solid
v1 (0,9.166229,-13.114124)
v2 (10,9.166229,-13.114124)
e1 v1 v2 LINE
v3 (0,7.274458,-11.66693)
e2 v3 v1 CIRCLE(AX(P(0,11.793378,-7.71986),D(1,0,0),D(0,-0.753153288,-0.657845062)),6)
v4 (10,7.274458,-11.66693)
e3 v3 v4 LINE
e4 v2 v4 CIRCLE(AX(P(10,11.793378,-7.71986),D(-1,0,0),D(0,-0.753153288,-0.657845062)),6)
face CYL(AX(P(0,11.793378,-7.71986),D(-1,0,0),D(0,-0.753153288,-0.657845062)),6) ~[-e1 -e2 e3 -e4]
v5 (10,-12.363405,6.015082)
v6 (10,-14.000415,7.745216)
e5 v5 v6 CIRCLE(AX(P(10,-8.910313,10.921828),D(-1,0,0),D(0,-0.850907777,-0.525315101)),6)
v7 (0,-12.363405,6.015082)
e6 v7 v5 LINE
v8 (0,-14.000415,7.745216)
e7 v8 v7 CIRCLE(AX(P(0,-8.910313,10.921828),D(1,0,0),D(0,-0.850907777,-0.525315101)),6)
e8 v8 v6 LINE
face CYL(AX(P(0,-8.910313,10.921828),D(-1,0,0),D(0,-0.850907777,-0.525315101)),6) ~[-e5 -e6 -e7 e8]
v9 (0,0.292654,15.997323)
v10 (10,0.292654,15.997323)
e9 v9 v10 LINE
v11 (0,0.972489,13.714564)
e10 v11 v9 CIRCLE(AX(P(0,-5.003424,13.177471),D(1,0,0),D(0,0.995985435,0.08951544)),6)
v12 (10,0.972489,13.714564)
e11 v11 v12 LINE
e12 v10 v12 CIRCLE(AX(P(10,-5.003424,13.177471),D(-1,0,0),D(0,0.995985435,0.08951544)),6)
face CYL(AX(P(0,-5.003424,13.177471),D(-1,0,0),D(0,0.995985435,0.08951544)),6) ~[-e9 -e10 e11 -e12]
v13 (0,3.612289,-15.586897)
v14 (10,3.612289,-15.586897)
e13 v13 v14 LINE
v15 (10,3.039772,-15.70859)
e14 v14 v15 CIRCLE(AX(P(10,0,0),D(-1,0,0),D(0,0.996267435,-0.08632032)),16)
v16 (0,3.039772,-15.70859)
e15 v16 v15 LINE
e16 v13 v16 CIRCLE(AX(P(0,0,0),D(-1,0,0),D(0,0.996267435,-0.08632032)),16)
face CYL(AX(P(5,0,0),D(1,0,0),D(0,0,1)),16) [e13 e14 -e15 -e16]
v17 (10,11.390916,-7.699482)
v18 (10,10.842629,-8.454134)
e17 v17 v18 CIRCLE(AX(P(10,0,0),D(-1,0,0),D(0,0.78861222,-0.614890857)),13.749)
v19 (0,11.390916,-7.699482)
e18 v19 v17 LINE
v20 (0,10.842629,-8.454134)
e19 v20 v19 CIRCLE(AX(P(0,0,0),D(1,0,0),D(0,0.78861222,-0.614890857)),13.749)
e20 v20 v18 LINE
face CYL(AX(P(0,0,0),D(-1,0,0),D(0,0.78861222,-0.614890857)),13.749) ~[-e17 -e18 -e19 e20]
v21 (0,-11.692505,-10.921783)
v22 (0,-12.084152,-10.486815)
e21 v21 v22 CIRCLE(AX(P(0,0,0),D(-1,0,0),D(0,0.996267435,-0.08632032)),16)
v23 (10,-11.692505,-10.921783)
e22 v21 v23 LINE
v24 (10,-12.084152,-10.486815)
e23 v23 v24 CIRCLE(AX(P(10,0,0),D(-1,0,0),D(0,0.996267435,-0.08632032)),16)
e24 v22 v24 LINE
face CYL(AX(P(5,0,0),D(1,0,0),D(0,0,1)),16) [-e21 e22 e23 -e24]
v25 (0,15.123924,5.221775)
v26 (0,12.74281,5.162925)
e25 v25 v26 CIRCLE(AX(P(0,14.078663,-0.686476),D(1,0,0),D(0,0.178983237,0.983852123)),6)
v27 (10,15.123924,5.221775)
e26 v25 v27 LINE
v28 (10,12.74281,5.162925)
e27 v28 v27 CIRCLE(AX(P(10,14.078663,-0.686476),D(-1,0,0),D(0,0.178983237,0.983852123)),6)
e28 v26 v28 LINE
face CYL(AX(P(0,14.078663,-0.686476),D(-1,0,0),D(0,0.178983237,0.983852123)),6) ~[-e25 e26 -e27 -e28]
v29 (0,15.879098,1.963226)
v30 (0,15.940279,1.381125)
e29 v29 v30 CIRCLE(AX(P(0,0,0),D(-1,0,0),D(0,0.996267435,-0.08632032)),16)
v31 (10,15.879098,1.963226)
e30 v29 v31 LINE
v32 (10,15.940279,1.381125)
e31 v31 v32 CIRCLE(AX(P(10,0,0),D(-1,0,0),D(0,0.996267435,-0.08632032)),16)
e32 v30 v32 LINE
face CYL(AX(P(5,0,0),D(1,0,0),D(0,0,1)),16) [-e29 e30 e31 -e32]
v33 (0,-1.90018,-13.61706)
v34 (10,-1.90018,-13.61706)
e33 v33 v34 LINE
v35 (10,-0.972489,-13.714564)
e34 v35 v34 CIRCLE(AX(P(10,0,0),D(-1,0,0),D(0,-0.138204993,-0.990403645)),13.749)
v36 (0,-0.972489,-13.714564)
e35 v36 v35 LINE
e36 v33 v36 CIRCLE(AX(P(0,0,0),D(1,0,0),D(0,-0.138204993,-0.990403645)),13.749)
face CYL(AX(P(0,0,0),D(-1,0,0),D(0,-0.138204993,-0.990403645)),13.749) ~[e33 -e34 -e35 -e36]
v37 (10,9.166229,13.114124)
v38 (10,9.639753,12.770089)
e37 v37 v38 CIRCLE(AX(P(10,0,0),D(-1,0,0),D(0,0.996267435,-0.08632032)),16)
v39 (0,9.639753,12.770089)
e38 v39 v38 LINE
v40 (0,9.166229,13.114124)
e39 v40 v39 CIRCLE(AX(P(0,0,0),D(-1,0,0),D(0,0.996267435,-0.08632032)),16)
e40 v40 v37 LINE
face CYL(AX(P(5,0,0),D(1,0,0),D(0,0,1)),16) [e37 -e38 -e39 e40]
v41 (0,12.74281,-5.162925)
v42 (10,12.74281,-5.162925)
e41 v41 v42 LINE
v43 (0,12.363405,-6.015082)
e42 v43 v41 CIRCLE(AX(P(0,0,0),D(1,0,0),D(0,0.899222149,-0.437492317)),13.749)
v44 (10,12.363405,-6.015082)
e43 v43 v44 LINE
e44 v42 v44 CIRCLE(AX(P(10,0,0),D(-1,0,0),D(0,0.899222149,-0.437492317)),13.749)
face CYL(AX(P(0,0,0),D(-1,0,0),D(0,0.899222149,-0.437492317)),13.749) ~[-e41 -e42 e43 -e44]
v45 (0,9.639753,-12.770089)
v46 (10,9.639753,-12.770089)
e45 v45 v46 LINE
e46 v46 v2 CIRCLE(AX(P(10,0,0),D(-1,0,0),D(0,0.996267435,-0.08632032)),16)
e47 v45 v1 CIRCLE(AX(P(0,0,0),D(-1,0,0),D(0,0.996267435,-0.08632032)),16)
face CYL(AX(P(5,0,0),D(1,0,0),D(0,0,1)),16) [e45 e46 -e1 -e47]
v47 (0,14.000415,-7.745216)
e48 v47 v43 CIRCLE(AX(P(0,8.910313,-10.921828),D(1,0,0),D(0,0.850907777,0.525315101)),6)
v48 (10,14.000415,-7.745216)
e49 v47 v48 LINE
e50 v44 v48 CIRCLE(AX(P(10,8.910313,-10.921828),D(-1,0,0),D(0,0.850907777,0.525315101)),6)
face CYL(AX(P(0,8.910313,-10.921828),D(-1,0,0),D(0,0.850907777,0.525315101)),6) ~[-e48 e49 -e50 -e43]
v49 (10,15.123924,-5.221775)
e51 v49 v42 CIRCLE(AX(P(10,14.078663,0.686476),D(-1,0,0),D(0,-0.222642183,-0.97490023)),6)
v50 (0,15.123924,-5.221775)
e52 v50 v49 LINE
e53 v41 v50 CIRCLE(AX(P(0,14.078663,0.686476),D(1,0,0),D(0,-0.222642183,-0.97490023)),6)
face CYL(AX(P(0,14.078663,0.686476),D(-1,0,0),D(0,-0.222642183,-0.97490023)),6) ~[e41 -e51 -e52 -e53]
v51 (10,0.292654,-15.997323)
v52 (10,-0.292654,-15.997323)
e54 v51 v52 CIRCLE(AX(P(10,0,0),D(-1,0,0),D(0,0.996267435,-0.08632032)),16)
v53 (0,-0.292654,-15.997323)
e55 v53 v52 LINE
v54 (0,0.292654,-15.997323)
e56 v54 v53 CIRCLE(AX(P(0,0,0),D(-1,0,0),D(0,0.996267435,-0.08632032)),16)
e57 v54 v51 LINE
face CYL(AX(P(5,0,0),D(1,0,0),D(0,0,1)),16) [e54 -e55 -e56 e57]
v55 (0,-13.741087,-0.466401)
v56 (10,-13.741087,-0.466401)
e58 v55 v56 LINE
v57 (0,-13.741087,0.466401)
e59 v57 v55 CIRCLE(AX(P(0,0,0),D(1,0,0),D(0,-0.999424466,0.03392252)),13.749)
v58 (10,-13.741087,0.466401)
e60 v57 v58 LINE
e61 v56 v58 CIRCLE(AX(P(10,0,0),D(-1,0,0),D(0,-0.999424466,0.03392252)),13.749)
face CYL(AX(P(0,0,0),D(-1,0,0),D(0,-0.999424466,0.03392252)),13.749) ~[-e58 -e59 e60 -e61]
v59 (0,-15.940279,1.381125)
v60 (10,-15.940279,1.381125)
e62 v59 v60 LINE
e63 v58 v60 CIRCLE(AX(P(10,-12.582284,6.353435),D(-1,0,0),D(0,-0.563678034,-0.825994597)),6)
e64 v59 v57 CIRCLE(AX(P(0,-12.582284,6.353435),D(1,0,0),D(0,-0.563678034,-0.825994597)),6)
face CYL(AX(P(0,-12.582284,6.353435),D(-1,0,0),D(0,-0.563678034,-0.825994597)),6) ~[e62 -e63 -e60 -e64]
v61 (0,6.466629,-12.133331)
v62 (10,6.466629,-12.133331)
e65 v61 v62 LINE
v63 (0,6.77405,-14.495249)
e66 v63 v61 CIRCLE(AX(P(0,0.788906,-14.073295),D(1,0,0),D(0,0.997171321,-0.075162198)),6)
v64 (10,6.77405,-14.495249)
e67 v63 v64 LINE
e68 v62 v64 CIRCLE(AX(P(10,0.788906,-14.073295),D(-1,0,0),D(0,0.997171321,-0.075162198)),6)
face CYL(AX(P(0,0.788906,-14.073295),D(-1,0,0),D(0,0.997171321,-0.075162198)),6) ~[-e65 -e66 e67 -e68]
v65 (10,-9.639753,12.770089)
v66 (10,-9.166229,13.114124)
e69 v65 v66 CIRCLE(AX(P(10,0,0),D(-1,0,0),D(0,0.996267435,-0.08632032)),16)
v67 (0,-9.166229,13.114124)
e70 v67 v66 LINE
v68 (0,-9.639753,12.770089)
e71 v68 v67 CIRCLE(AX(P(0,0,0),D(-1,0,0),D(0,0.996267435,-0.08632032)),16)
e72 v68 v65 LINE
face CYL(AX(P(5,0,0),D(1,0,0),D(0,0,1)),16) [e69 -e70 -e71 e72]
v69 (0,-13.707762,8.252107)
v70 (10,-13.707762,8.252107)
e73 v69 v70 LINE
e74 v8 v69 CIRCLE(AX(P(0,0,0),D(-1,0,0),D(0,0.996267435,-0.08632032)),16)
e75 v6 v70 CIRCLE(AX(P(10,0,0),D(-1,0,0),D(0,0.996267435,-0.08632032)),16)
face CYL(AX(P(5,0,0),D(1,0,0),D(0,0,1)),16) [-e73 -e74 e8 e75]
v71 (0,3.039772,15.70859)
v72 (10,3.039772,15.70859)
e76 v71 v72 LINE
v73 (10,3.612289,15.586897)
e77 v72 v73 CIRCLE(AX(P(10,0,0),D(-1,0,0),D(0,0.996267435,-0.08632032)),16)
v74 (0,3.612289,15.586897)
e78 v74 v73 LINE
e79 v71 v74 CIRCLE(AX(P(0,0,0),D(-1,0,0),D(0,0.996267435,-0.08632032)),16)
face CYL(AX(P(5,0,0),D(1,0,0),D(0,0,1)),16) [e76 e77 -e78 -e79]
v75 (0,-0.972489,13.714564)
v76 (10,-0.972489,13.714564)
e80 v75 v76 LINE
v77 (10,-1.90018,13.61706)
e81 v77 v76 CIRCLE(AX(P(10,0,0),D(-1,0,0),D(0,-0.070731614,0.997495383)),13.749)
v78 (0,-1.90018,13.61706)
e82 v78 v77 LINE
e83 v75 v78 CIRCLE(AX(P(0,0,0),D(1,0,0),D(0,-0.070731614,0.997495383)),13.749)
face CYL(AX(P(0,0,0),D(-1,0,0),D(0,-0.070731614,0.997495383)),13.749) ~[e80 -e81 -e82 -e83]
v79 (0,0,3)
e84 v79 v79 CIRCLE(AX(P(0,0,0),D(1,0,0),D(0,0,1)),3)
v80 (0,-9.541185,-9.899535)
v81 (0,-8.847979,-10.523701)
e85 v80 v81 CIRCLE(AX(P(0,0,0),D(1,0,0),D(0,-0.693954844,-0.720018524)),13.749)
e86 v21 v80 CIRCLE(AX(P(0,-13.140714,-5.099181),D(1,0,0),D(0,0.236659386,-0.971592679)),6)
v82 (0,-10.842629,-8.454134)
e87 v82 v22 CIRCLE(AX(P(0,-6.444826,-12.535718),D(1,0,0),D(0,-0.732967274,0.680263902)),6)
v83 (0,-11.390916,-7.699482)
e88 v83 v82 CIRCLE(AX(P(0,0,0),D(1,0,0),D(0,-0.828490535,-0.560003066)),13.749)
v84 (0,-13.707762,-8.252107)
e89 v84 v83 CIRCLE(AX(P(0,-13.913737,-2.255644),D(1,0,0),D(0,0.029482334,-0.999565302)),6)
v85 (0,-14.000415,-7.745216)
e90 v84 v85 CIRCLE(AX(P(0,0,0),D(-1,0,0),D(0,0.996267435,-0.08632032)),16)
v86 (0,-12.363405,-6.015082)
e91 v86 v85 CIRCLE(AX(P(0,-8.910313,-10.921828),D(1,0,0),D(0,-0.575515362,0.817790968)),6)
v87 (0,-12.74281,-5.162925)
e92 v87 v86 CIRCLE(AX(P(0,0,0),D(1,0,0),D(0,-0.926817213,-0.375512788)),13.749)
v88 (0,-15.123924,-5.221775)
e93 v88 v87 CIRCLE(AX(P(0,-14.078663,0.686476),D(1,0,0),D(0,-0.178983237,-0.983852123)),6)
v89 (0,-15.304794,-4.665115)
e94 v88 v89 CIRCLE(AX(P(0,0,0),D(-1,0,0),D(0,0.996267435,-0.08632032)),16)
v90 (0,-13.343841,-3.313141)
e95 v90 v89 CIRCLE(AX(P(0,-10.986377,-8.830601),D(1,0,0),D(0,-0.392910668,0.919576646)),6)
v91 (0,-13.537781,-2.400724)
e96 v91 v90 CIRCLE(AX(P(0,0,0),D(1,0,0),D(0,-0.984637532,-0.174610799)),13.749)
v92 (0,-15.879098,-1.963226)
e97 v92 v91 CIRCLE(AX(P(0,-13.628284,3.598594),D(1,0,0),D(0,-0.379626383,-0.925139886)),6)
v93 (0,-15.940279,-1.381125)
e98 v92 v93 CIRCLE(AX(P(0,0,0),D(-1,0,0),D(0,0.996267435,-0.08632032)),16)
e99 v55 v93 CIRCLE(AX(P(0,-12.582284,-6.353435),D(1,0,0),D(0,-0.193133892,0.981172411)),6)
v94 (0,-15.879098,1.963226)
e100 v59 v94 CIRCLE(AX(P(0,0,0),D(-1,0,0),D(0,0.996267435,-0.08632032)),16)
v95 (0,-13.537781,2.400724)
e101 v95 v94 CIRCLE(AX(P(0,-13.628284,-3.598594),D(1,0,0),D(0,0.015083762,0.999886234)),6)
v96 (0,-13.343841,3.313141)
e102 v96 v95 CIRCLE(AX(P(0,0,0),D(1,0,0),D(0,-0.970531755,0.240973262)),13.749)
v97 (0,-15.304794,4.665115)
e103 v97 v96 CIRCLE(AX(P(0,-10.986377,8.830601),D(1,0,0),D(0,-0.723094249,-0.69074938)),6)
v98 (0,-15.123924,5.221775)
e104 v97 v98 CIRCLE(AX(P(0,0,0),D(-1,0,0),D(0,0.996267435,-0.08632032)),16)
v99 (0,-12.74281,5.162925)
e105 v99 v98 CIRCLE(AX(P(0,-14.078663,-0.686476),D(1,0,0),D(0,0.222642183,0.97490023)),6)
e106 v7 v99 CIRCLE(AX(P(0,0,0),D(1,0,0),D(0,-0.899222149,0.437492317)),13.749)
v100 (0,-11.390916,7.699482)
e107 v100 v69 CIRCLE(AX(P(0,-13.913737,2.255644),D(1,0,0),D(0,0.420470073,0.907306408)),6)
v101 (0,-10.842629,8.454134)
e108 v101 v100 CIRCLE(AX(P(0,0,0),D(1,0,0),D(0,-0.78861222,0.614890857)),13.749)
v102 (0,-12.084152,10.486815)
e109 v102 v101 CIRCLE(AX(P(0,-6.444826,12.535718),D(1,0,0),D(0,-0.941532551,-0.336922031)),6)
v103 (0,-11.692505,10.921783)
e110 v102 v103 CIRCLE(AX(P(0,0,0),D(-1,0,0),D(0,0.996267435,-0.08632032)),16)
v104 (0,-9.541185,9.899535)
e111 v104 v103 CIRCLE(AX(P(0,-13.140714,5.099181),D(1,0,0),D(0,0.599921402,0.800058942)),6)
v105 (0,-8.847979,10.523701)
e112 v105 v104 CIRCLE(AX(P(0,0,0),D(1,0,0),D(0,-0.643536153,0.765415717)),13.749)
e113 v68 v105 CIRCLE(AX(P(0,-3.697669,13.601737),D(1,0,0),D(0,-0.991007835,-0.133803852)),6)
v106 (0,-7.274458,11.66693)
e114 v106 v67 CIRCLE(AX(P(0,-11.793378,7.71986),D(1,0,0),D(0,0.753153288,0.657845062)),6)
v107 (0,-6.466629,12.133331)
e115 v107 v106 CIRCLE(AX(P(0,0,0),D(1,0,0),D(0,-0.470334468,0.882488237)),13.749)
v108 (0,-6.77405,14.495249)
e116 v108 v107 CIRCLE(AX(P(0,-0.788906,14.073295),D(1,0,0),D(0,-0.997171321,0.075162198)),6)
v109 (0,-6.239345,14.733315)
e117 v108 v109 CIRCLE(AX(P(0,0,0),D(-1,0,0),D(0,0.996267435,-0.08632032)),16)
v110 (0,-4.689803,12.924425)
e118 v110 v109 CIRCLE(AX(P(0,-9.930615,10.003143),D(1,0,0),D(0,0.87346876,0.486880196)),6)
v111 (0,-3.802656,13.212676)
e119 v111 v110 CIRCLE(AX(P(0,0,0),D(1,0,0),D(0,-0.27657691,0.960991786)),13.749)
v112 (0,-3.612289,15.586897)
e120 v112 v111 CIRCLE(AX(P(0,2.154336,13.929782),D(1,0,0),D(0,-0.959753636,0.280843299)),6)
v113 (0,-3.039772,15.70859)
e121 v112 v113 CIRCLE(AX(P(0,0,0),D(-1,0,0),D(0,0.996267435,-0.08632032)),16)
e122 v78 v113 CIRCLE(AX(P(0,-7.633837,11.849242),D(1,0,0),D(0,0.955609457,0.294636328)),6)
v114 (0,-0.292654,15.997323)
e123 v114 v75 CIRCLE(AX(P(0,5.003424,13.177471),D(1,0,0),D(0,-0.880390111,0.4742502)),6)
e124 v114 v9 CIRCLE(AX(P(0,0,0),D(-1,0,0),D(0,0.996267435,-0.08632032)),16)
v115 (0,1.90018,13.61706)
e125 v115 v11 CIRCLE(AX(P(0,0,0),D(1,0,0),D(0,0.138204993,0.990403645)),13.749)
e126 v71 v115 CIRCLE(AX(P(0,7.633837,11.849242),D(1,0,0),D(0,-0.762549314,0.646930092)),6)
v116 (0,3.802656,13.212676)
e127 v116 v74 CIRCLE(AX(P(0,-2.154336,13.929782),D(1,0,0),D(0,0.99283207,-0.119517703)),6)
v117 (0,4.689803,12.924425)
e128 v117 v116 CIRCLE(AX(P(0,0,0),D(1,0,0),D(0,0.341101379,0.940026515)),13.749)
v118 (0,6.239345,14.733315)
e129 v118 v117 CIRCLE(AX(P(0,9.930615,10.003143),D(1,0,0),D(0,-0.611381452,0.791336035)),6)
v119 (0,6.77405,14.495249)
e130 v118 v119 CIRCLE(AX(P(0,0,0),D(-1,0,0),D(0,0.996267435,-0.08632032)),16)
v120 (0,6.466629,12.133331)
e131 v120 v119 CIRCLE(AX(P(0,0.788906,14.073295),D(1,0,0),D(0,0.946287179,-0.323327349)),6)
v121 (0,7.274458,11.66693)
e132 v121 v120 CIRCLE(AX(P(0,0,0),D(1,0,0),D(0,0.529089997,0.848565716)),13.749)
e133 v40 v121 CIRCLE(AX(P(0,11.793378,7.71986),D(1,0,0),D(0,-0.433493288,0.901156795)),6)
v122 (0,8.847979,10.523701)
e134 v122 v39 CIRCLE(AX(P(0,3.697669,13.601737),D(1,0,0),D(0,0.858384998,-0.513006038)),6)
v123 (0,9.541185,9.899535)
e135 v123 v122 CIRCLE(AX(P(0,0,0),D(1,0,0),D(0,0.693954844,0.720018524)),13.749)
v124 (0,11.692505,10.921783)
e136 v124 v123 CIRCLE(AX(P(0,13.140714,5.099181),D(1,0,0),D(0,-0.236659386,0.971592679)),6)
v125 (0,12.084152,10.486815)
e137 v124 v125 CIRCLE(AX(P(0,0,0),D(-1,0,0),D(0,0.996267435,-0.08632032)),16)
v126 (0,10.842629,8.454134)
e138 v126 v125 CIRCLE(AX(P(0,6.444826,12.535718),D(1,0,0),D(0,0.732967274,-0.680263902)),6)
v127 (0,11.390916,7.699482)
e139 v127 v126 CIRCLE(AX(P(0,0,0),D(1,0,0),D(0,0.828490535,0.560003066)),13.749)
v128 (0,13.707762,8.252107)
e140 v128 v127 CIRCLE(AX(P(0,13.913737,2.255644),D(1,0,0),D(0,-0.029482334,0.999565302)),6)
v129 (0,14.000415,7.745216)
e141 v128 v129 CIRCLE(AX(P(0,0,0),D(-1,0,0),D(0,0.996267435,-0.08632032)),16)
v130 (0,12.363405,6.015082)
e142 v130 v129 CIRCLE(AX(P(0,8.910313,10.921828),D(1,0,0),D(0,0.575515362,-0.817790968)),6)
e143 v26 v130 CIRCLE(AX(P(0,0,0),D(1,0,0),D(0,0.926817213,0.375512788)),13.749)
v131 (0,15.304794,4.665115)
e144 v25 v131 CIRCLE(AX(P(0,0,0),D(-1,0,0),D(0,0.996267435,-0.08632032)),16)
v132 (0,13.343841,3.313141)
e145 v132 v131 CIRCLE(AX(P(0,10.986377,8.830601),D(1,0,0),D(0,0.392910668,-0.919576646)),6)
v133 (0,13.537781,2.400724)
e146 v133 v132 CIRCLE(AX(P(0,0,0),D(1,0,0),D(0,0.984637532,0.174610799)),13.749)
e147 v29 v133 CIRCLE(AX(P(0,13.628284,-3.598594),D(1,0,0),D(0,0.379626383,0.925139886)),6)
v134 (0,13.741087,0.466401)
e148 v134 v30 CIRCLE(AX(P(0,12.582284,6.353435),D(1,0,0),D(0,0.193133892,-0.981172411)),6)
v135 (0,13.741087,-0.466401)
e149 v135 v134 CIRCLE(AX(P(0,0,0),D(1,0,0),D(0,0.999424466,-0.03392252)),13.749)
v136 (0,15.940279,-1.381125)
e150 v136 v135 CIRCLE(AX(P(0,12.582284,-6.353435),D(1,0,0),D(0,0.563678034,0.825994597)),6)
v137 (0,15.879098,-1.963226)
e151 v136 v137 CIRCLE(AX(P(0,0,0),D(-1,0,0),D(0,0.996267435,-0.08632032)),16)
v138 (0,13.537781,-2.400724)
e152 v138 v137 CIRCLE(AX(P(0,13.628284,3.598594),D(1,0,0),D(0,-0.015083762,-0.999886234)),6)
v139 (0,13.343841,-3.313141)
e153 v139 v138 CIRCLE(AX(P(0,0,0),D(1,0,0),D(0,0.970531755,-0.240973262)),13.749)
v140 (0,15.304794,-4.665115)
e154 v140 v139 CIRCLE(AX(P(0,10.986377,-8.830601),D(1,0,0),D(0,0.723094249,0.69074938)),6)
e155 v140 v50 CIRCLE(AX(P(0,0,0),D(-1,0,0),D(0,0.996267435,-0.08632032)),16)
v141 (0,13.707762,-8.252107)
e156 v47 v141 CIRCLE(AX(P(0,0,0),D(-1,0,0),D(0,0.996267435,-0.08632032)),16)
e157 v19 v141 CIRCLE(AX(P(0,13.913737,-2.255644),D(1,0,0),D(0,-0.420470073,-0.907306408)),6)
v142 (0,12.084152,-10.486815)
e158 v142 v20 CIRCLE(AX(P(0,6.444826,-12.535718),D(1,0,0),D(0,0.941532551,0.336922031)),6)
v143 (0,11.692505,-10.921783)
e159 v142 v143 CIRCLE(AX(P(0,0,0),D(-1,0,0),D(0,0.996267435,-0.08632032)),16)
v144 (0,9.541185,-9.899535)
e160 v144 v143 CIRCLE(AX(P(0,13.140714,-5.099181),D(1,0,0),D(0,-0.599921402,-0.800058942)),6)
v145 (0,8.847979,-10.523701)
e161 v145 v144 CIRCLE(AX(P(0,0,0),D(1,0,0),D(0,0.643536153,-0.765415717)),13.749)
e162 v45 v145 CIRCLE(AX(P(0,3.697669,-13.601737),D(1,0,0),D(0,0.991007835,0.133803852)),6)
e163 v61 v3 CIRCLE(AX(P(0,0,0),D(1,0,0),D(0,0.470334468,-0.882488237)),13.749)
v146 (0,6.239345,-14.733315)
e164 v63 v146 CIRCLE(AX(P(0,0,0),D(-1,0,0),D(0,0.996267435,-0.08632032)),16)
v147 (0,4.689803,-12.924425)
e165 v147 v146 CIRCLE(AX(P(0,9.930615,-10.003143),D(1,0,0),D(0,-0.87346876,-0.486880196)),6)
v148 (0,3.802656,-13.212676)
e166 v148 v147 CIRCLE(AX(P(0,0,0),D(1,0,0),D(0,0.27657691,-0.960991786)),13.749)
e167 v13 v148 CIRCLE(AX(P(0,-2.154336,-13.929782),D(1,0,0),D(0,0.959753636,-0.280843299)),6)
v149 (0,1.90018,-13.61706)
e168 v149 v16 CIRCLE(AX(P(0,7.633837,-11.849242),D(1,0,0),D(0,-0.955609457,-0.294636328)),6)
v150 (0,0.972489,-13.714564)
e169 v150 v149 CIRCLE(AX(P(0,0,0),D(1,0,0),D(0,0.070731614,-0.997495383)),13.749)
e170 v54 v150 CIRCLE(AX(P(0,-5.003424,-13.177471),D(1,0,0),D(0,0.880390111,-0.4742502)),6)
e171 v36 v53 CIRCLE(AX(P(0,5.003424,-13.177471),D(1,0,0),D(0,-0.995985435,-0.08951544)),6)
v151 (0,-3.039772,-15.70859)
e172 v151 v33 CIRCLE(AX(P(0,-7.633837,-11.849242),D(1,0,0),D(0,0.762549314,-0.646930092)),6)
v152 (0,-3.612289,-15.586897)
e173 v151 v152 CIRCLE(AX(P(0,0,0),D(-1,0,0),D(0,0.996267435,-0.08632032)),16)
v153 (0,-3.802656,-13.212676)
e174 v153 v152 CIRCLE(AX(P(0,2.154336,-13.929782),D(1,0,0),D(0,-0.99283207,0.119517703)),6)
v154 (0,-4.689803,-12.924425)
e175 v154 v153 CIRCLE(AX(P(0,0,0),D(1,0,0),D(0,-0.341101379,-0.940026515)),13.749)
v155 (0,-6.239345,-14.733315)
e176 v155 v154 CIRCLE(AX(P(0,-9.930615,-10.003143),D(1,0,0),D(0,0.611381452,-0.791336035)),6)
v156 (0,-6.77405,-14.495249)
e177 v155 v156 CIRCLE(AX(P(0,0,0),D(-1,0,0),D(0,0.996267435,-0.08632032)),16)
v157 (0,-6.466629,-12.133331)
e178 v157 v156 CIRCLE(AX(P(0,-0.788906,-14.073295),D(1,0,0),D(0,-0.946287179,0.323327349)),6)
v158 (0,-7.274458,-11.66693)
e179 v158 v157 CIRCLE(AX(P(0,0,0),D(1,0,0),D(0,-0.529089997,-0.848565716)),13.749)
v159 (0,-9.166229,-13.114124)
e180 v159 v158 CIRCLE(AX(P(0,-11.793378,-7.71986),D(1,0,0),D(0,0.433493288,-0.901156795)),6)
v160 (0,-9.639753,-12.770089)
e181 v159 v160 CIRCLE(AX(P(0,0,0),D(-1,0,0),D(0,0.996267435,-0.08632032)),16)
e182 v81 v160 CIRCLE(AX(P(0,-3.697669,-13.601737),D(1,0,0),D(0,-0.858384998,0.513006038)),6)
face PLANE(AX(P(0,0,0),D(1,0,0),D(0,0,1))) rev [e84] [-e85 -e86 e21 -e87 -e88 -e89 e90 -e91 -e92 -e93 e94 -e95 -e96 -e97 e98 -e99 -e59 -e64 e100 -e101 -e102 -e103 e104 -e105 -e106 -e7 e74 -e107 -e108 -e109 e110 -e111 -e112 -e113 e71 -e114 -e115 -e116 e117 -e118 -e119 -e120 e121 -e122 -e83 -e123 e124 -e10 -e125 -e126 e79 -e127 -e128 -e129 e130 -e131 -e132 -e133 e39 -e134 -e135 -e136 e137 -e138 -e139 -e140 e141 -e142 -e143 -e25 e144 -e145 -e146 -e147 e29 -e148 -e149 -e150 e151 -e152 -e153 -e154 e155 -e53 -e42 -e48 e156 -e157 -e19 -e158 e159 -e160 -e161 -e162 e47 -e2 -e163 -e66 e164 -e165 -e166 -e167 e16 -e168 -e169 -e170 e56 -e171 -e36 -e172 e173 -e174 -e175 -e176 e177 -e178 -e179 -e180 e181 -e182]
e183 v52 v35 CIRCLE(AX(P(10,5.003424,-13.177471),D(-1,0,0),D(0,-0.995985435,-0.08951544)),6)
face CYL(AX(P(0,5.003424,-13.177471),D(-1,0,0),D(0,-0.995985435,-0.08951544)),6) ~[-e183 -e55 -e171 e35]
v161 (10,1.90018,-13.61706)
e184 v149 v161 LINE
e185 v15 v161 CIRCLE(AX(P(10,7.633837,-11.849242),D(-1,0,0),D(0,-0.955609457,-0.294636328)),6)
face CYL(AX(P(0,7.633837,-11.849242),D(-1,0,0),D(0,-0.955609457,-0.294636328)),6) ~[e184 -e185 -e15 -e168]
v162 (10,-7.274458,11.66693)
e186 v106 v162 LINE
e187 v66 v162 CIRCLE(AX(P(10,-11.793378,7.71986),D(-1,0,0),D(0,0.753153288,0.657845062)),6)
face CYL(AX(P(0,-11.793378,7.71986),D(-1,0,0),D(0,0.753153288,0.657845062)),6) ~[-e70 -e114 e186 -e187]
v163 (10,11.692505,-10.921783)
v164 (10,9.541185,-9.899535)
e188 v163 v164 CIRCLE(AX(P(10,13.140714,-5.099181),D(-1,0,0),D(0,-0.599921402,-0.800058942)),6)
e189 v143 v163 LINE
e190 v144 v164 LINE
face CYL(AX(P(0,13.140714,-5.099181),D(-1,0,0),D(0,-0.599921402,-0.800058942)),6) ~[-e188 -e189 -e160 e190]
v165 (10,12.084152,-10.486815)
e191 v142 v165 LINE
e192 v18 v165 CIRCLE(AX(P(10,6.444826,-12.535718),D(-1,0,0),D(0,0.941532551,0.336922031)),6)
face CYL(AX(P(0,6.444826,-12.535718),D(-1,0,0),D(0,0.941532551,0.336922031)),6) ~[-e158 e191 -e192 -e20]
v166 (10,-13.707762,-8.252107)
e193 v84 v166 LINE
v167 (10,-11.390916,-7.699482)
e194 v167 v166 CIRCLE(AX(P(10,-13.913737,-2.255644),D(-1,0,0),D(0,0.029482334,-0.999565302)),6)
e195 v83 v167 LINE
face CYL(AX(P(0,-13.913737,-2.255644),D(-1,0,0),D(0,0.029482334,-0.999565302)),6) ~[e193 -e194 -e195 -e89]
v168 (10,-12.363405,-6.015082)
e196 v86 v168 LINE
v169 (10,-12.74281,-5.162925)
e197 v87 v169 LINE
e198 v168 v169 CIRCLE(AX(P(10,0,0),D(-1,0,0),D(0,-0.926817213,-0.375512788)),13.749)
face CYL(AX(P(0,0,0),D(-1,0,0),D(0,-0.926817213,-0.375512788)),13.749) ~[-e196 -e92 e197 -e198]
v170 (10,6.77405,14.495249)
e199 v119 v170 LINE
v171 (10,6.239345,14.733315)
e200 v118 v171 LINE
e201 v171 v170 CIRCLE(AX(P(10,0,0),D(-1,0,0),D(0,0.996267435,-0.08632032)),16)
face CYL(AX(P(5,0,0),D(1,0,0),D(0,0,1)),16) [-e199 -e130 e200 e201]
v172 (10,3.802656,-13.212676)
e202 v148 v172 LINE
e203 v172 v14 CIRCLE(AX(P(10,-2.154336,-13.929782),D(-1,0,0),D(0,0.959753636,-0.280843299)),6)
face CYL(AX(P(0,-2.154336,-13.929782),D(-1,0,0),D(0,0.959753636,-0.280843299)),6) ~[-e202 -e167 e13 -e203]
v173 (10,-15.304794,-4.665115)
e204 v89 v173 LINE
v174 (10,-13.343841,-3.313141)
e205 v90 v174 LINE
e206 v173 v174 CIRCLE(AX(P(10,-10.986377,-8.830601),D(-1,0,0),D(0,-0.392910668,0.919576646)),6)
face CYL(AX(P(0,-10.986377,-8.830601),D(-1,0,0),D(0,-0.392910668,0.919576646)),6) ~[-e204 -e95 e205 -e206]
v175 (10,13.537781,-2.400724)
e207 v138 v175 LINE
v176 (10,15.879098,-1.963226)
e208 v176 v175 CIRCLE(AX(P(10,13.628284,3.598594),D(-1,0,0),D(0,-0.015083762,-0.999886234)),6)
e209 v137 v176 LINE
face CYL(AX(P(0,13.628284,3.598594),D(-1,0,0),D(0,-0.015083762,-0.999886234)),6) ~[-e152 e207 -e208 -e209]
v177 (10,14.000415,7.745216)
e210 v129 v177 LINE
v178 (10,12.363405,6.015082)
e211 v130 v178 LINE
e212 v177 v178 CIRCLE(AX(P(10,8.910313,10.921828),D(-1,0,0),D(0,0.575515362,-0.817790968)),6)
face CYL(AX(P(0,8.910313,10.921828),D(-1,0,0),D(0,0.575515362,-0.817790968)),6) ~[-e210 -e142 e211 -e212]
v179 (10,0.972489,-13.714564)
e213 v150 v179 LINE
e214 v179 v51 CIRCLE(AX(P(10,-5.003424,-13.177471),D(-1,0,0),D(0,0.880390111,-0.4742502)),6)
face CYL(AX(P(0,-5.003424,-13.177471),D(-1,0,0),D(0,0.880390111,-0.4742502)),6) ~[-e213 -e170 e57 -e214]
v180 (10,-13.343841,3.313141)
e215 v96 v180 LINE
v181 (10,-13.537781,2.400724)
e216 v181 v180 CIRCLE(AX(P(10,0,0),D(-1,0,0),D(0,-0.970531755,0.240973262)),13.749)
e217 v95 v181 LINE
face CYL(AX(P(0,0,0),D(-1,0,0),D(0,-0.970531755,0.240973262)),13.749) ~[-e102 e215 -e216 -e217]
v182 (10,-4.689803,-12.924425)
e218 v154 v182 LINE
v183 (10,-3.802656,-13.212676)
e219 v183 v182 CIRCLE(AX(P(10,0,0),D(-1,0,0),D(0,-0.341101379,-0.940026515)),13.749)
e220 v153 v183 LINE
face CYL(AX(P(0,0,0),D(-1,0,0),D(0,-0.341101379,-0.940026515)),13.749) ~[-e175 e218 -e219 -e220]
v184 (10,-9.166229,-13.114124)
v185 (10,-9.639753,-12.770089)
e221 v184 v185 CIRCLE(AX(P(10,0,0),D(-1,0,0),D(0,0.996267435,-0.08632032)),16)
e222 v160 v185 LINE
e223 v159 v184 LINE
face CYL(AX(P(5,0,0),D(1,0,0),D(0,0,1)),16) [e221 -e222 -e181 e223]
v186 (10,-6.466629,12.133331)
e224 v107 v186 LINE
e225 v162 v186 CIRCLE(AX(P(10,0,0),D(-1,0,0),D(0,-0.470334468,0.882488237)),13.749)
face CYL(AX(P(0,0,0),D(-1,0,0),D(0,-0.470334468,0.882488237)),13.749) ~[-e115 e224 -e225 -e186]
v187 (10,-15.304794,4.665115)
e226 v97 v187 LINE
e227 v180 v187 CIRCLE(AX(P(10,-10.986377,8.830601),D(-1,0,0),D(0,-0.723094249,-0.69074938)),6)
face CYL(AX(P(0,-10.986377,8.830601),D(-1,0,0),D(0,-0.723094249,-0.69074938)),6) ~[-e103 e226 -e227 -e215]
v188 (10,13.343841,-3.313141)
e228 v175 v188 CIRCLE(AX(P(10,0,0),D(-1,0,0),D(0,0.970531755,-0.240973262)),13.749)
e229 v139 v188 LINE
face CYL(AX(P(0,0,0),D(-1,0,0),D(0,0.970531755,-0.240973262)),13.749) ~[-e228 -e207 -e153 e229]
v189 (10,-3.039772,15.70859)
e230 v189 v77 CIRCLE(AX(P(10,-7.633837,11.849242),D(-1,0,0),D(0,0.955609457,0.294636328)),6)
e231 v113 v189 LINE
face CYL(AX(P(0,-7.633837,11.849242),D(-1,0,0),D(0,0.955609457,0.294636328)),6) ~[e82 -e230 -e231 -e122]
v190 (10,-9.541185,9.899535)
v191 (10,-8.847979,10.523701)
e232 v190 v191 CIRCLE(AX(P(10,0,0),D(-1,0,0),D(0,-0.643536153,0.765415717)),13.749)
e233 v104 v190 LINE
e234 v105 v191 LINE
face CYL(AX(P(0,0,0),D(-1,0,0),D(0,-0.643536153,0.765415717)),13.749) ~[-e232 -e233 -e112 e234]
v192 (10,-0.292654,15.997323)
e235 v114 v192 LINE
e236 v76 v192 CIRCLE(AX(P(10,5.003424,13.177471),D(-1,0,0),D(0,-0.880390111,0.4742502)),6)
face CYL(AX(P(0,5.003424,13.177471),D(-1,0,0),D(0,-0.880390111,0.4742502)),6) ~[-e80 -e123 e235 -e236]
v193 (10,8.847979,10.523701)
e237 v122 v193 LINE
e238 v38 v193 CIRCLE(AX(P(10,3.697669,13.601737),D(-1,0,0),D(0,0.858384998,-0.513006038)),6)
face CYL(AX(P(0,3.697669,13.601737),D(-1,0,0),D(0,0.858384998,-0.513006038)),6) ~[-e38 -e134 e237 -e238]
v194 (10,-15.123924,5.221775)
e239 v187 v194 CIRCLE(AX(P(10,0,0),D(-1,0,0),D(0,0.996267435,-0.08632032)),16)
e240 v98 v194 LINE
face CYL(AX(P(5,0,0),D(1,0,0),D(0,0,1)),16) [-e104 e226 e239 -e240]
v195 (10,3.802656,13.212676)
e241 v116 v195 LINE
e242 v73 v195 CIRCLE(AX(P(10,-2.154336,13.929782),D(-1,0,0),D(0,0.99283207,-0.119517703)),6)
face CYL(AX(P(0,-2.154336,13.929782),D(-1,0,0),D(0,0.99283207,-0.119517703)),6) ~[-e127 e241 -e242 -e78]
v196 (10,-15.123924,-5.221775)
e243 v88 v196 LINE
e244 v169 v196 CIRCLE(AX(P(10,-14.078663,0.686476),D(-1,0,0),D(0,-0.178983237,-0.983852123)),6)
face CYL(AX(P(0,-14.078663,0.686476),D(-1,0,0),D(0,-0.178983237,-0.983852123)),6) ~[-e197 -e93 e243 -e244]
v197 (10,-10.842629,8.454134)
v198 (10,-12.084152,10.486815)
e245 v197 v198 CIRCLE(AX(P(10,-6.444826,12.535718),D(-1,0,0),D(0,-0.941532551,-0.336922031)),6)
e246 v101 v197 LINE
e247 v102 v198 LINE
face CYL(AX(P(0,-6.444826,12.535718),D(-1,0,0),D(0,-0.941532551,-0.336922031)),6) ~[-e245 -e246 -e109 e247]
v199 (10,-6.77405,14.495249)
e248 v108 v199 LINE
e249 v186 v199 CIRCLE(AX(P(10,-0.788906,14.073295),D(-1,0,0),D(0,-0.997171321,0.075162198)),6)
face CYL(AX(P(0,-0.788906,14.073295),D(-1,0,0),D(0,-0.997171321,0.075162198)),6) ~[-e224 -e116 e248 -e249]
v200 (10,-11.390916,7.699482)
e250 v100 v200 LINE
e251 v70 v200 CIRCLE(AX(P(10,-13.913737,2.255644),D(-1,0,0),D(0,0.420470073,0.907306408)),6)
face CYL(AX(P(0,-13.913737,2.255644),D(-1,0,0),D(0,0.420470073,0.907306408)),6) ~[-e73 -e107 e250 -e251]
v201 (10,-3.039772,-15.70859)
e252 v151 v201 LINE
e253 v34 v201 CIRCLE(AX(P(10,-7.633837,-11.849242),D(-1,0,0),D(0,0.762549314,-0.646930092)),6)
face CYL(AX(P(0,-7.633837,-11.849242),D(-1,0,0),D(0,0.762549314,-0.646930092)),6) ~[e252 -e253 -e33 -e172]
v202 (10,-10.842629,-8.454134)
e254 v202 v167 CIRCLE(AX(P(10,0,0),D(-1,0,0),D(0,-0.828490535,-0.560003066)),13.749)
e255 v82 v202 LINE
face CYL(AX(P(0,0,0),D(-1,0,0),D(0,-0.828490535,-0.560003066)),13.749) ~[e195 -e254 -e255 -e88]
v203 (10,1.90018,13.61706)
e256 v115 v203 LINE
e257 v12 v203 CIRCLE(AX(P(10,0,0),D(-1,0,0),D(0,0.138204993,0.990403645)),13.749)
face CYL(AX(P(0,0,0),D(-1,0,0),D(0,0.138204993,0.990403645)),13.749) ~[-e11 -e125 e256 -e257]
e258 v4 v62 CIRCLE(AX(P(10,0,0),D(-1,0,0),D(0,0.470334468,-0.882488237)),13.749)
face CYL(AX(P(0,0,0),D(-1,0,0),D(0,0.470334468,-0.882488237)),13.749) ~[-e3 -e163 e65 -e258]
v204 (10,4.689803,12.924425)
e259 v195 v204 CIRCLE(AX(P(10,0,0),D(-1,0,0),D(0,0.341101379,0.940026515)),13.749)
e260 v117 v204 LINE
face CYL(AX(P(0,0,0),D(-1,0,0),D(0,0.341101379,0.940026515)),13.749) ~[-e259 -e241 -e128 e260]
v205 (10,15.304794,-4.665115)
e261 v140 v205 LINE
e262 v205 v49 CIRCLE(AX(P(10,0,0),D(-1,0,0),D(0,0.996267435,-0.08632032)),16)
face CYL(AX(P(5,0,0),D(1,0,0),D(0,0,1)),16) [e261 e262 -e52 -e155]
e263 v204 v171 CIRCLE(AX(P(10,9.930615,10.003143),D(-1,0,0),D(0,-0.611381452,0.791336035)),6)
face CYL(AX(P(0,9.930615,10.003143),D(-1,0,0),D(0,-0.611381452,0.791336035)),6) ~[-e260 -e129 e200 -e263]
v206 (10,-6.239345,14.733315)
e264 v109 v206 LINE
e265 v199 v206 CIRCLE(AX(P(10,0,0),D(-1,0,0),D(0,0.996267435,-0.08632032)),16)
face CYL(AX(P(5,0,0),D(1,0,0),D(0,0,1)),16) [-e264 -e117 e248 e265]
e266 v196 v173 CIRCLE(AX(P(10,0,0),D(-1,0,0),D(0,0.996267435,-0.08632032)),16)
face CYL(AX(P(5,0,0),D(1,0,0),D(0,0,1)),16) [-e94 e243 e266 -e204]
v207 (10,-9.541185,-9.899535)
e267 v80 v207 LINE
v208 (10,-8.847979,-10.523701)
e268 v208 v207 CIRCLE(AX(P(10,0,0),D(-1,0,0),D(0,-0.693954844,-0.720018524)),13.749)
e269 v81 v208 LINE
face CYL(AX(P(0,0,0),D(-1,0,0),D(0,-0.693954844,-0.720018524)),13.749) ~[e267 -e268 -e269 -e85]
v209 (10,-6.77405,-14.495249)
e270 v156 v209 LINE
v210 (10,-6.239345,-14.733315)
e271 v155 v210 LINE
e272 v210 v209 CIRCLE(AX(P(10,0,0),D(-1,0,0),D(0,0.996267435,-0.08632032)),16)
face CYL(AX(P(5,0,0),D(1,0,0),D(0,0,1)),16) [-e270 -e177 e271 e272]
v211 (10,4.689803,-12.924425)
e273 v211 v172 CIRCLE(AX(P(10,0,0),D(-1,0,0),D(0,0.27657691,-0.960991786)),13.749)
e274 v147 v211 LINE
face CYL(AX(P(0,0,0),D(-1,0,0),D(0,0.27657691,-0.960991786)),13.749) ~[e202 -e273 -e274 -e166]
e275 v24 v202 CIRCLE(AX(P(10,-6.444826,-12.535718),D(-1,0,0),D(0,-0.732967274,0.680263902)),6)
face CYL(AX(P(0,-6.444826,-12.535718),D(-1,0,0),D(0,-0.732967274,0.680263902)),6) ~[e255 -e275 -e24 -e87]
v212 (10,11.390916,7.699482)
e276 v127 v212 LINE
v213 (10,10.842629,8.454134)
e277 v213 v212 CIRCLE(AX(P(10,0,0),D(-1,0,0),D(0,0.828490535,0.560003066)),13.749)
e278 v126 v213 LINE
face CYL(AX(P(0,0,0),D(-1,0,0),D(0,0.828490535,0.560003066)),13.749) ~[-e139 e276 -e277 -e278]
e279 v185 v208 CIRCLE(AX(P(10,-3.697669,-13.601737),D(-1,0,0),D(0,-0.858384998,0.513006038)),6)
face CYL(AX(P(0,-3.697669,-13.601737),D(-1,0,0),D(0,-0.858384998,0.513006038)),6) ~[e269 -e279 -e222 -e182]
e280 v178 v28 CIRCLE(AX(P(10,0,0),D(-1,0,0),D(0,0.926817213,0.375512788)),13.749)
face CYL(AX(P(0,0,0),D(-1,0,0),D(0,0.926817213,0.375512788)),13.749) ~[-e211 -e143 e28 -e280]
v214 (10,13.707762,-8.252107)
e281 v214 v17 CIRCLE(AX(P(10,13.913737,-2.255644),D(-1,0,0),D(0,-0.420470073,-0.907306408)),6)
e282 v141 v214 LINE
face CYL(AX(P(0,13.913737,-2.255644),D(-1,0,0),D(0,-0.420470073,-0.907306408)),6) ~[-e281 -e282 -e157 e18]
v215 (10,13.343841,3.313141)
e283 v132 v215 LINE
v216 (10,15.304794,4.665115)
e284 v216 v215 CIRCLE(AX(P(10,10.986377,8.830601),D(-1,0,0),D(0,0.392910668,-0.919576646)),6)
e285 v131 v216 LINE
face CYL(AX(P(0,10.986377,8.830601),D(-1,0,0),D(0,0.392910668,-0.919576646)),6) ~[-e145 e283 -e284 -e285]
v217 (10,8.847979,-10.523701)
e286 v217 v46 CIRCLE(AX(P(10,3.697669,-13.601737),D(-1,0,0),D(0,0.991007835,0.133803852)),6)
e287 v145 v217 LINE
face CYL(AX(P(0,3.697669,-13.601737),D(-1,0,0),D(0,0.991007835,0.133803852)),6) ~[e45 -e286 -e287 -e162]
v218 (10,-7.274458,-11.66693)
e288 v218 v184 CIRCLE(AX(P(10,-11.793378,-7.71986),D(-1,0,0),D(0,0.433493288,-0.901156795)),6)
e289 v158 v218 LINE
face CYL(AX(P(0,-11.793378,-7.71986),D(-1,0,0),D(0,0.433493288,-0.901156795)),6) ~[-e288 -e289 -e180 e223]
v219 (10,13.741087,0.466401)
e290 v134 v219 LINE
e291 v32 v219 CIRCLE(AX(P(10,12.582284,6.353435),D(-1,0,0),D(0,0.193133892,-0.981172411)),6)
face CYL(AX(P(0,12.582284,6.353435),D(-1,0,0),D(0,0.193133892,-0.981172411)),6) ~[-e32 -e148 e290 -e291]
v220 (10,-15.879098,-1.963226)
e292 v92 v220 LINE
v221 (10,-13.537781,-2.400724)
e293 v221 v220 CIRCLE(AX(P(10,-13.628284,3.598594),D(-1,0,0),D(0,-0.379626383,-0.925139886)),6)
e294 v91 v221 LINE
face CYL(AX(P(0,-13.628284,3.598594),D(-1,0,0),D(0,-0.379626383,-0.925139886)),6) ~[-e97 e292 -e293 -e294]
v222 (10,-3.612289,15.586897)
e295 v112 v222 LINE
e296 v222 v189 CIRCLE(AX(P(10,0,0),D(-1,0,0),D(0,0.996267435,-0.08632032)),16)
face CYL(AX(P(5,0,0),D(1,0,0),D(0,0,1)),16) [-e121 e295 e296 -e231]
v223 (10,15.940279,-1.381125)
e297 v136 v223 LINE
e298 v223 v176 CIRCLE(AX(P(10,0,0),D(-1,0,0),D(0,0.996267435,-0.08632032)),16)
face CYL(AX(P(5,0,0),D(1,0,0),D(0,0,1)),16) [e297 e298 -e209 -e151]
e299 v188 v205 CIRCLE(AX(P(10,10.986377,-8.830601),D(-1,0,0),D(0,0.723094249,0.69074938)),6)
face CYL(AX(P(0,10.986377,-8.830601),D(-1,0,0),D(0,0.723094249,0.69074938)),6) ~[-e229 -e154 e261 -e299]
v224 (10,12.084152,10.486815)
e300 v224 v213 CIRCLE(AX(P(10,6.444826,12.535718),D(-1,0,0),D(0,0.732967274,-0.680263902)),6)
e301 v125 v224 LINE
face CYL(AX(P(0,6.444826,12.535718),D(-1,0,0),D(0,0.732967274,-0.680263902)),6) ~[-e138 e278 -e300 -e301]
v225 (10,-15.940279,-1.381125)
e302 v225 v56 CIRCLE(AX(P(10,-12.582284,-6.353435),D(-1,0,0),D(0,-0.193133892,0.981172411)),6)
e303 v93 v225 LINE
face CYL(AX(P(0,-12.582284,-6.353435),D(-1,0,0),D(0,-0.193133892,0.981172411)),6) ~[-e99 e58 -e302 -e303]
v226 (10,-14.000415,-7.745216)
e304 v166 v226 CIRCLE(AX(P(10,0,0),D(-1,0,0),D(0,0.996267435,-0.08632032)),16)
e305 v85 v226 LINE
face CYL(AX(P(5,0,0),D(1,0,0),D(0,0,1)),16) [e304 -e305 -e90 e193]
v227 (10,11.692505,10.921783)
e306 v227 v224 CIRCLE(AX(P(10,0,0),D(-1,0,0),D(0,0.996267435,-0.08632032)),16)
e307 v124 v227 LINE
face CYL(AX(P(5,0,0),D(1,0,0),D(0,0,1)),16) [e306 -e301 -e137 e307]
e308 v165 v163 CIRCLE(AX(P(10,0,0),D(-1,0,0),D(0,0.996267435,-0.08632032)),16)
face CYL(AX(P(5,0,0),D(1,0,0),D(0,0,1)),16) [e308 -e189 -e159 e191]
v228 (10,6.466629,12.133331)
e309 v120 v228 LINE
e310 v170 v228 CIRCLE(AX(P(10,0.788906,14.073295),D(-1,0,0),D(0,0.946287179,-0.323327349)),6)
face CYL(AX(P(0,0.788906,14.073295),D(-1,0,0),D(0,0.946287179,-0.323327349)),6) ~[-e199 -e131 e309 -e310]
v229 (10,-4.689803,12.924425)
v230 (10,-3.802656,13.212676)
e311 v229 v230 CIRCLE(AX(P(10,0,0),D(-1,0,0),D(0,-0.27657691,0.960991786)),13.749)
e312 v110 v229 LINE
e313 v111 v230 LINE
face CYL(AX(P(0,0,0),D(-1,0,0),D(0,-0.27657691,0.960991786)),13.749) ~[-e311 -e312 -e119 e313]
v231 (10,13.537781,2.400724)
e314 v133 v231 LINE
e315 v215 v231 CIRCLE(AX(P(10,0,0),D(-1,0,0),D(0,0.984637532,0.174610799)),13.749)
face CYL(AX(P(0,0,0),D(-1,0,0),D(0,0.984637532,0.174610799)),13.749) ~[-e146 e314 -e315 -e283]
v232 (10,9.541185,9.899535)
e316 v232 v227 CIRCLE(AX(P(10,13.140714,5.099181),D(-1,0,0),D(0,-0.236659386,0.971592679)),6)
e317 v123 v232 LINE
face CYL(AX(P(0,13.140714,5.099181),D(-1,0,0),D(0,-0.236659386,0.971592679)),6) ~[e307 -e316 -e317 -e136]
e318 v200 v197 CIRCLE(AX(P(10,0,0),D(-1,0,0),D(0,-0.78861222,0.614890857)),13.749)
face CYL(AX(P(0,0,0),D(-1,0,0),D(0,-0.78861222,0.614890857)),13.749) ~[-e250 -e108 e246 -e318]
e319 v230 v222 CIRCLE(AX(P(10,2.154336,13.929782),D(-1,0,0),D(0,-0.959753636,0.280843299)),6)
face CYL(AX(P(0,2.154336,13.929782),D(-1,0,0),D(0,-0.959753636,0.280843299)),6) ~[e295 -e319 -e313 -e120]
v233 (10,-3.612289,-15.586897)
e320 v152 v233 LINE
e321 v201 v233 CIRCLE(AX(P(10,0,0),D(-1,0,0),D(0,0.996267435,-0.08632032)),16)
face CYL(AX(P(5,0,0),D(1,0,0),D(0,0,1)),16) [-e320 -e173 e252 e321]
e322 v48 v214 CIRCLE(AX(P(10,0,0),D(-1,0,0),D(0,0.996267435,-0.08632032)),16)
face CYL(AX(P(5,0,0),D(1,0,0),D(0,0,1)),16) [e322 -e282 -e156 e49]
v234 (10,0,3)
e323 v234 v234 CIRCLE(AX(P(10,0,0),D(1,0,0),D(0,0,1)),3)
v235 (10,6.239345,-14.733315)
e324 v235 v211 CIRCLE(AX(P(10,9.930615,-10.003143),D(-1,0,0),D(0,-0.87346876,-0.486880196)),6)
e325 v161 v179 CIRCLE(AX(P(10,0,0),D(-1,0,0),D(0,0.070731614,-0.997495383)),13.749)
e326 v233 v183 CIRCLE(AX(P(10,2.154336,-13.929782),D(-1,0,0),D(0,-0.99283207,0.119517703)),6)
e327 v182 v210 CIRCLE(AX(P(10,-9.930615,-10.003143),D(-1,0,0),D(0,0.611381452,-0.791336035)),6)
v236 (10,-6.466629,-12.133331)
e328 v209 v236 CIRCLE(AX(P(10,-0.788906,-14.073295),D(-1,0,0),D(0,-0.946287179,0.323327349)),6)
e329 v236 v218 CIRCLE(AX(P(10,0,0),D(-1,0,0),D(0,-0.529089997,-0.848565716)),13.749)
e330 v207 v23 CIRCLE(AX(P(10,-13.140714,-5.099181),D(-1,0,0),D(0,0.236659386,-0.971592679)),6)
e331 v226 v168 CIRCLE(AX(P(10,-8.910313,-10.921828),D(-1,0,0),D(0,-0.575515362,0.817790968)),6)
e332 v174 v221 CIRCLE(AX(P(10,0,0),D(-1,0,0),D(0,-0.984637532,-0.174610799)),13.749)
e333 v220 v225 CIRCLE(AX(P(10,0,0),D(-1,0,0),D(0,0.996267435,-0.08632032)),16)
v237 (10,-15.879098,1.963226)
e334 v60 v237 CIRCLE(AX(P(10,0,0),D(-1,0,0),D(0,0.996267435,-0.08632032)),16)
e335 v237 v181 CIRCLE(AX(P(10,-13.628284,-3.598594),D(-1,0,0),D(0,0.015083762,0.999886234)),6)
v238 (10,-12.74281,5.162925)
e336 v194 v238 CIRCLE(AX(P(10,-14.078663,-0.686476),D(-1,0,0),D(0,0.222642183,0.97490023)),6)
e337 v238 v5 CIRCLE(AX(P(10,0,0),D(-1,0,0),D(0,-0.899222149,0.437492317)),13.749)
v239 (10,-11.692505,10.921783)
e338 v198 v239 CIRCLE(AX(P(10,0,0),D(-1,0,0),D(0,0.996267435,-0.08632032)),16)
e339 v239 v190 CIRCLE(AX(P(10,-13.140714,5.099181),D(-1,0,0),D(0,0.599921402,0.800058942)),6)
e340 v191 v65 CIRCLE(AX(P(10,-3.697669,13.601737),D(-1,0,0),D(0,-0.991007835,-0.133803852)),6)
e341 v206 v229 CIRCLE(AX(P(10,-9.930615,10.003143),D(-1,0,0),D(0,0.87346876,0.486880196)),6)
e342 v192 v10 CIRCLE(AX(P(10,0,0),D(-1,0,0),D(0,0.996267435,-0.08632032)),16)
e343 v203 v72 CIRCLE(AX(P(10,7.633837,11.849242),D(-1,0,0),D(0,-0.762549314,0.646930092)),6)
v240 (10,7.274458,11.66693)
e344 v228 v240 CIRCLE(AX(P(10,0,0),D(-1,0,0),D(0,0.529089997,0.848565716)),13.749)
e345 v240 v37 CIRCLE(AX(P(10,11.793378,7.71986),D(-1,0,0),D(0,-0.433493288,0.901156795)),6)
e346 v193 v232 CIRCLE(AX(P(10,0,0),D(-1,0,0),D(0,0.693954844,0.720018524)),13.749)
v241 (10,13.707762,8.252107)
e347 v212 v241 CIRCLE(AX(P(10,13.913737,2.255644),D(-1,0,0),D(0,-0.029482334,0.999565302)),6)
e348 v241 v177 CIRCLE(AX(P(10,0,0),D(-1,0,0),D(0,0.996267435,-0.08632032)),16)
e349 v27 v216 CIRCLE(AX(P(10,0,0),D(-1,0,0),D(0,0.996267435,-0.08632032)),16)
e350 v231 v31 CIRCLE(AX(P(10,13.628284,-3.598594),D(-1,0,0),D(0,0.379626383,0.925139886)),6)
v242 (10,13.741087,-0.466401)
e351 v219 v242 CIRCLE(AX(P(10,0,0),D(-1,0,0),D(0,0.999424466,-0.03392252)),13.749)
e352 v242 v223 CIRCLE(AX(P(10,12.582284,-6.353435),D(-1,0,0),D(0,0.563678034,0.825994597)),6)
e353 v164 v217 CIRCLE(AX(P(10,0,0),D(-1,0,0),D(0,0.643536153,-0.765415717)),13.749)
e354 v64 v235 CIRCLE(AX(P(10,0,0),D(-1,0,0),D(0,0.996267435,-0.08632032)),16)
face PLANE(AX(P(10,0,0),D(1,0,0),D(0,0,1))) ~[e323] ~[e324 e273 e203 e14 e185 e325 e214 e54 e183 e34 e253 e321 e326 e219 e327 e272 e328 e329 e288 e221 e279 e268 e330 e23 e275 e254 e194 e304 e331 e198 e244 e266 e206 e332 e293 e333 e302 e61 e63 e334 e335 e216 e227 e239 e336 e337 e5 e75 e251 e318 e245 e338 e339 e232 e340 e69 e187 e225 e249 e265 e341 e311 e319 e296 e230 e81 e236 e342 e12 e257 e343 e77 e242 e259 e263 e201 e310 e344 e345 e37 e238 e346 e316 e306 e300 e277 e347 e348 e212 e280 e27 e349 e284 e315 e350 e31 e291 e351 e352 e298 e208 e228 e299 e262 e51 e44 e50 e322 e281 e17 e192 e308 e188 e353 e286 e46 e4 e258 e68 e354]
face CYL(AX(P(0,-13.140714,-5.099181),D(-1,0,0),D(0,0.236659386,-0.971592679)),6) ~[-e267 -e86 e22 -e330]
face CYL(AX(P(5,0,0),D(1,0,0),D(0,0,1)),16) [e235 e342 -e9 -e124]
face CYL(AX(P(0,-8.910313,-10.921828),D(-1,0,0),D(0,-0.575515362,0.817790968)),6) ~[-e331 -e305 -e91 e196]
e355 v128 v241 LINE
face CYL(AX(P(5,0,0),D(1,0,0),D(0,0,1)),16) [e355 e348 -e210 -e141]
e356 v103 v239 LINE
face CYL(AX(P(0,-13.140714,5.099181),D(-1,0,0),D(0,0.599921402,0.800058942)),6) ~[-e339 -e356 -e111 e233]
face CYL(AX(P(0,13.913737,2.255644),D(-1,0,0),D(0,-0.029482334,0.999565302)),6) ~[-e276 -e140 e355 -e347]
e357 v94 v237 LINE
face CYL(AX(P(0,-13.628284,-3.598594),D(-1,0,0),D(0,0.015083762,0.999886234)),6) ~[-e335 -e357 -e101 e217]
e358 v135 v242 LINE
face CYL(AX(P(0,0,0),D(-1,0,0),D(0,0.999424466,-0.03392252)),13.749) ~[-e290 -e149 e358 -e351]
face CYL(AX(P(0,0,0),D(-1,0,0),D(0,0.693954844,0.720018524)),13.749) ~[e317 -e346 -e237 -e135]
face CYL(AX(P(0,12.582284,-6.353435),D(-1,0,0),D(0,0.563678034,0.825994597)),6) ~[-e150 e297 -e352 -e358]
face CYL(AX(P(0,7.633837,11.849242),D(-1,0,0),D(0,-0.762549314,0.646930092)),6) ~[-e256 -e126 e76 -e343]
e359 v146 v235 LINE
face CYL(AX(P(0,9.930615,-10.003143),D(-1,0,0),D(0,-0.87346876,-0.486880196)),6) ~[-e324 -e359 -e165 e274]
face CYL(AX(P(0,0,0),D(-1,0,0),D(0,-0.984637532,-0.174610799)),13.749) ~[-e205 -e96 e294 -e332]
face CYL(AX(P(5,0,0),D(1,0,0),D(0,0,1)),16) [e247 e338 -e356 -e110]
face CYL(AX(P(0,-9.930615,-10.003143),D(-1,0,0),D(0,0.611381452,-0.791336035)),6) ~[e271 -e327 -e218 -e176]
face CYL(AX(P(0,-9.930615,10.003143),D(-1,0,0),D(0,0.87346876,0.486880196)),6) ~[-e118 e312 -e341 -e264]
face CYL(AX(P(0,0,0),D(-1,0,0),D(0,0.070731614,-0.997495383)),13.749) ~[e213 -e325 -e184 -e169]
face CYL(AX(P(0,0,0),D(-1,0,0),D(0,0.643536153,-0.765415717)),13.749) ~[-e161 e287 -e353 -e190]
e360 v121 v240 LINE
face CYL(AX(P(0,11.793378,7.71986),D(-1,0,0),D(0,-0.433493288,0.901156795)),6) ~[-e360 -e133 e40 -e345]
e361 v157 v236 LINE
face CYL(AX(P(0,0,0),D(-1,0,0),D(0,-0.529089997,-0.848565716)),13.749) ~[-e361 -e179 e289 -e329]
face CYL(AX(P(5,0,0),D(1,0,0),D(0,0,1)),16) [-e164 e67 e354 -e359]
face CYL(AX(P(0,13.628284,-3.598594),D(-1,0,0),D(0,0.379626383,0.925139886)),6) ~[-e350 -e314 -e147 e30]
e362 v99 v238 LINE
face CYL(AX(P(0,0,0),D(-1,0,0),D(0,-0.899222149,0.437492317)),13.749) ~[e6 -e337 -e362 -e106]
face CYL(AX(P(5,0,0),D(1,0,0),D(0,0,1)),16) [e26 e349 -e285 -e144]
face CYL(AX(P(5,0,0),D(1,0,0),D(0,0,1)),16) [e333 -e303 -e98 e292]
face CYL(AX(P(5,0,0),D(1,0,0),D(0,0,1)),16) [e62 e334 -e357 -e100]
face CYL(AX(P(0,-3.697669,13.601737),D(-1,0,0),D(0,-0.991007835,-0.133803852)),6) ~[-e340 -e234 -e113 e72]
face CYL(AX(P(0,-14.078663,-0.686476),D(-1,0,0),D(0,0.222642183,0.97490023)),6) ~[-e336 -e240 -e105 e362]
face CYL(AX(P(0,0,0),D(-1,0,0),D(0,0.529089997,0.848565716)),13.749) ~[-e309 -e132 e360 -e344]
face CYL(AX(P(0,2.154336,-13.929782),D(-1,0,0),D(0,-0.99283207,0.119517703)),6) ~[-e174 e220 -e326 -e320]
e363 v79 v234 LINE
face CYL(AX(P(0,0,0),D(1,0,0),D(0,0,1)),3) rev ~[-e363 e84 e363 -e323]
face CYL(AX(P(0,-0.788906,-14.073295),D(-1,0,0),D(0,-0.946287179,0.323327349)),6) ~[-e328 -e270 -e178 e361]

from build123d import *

# Parameters (mm, degrees)
BASPROSKE_W        = 10
BASPROSKE_H        = 16
TOOTHCUT_DEPTH     = 25.738633754
TEETHCUTS_COUNT    = 30
TEETHCUTS_ANGLE    = 348
HUBNEAONESKE_R     = 12.5
HUBNEARONE_DEPTH   = 8.0000508
BORSKE_R           = 3
BORE_DEPTH         = 18.0000508
SKETCH1_R          = 12.5
CUT_EXTRUDE1_DEPTH = 8.0000508


with BuildPart() as part:
    # BasProSke → Base-Revolve (revolve)
    with BuildSketch(Plane(origin=(0, 0, 0), x_dir=(1, 0, 0), z_dir=(0, 1, 0)), mode=Mode.PRIVATE) as base_revolve_sk:
        with Locations((5, 8)):
            Rectangle(BASPROSKE_W, BASPROSKE_H)
    revolve(base_revolve_sk.sketch.rotate(Axis((-10, 0, 0), (1, 0, 0)), 180), axis=Axis((-10, 0, 0), (1, 0, 0)))

    # TooCutSke → ToothCut (cut, through all)
    with BuildSketch(Plane(origin=(0, 0, 0), x_dir=(0, 0, -1), z_dir=(1, 0, 0))):
        with BuildLine():
            ThreePointArc((0.466400716, 13.741086979), (0, 13.749), (-0.466400716, 13.741086979))
            ThreePointArc((-0.466400716, 13.741086979), (-0.819142092, 14.899954875), (-1.3974676, 15.964351834))
            ThreePointArc((-1.3974676, 15.964351834), (0, 16.0254), (1.3974676, 15.964351834))
            ThreePointArc((1.3974676, 15.964351834), (0.819142092, 14.899954875), (0.466400716, 13.741086979))
        make_face()
    toothcut = extrude(amount=TOOTHCUT_DEPTH, mode=Mode.SUBTRACT)

    # TeethCuts: ToothCut ×30 about axis
    teethcuts_axis = Axis((-10, 0, 0), (1, 0, 0))
    for i in range(1, TEETHCUTS_COUNT):
        add(toothcut.rotate(teethcuts_axis, i * TEETHCUTS_ANGLE / (TEETHCUTS_COUNT - 1)), mode=Mode.SUBTRACT)

    # HubNeaOneSke → HubNearOne (add)
    with BuildSketch(Plane.ZY):
        with Locations(Location((0, 0, 0), (0, 0, 180))):
            Circle(HUBNEAONESKE_R)
    extrude(amount=HUBNEARONE_DEPTH)

    # BorSke → Bore (cut, symmetric)
    with BuildSketch(Plane(origin=(0, 0, 0), x_dir=(0, 0, -1), z_dir=(1, 0, 0))):
        with Locations(Location((0, 0, 0), (0, 0, 180))):
            Circle(BORSKE_R)
    extrude(amount=BORE_DEPTH, both=True, mode=Mode.SUBTRACT)

    # Sketch1 → Cut-Extrude1 (cut)
    with BuildSketch(Plane.ZY.offset(8.0000508)):
        Circle(SKETCH1_R)
    extrude(amount=-CUT_EXTRUDE1_DEPTH, mode=Mode.SUBTRACT)


solid = part.part
